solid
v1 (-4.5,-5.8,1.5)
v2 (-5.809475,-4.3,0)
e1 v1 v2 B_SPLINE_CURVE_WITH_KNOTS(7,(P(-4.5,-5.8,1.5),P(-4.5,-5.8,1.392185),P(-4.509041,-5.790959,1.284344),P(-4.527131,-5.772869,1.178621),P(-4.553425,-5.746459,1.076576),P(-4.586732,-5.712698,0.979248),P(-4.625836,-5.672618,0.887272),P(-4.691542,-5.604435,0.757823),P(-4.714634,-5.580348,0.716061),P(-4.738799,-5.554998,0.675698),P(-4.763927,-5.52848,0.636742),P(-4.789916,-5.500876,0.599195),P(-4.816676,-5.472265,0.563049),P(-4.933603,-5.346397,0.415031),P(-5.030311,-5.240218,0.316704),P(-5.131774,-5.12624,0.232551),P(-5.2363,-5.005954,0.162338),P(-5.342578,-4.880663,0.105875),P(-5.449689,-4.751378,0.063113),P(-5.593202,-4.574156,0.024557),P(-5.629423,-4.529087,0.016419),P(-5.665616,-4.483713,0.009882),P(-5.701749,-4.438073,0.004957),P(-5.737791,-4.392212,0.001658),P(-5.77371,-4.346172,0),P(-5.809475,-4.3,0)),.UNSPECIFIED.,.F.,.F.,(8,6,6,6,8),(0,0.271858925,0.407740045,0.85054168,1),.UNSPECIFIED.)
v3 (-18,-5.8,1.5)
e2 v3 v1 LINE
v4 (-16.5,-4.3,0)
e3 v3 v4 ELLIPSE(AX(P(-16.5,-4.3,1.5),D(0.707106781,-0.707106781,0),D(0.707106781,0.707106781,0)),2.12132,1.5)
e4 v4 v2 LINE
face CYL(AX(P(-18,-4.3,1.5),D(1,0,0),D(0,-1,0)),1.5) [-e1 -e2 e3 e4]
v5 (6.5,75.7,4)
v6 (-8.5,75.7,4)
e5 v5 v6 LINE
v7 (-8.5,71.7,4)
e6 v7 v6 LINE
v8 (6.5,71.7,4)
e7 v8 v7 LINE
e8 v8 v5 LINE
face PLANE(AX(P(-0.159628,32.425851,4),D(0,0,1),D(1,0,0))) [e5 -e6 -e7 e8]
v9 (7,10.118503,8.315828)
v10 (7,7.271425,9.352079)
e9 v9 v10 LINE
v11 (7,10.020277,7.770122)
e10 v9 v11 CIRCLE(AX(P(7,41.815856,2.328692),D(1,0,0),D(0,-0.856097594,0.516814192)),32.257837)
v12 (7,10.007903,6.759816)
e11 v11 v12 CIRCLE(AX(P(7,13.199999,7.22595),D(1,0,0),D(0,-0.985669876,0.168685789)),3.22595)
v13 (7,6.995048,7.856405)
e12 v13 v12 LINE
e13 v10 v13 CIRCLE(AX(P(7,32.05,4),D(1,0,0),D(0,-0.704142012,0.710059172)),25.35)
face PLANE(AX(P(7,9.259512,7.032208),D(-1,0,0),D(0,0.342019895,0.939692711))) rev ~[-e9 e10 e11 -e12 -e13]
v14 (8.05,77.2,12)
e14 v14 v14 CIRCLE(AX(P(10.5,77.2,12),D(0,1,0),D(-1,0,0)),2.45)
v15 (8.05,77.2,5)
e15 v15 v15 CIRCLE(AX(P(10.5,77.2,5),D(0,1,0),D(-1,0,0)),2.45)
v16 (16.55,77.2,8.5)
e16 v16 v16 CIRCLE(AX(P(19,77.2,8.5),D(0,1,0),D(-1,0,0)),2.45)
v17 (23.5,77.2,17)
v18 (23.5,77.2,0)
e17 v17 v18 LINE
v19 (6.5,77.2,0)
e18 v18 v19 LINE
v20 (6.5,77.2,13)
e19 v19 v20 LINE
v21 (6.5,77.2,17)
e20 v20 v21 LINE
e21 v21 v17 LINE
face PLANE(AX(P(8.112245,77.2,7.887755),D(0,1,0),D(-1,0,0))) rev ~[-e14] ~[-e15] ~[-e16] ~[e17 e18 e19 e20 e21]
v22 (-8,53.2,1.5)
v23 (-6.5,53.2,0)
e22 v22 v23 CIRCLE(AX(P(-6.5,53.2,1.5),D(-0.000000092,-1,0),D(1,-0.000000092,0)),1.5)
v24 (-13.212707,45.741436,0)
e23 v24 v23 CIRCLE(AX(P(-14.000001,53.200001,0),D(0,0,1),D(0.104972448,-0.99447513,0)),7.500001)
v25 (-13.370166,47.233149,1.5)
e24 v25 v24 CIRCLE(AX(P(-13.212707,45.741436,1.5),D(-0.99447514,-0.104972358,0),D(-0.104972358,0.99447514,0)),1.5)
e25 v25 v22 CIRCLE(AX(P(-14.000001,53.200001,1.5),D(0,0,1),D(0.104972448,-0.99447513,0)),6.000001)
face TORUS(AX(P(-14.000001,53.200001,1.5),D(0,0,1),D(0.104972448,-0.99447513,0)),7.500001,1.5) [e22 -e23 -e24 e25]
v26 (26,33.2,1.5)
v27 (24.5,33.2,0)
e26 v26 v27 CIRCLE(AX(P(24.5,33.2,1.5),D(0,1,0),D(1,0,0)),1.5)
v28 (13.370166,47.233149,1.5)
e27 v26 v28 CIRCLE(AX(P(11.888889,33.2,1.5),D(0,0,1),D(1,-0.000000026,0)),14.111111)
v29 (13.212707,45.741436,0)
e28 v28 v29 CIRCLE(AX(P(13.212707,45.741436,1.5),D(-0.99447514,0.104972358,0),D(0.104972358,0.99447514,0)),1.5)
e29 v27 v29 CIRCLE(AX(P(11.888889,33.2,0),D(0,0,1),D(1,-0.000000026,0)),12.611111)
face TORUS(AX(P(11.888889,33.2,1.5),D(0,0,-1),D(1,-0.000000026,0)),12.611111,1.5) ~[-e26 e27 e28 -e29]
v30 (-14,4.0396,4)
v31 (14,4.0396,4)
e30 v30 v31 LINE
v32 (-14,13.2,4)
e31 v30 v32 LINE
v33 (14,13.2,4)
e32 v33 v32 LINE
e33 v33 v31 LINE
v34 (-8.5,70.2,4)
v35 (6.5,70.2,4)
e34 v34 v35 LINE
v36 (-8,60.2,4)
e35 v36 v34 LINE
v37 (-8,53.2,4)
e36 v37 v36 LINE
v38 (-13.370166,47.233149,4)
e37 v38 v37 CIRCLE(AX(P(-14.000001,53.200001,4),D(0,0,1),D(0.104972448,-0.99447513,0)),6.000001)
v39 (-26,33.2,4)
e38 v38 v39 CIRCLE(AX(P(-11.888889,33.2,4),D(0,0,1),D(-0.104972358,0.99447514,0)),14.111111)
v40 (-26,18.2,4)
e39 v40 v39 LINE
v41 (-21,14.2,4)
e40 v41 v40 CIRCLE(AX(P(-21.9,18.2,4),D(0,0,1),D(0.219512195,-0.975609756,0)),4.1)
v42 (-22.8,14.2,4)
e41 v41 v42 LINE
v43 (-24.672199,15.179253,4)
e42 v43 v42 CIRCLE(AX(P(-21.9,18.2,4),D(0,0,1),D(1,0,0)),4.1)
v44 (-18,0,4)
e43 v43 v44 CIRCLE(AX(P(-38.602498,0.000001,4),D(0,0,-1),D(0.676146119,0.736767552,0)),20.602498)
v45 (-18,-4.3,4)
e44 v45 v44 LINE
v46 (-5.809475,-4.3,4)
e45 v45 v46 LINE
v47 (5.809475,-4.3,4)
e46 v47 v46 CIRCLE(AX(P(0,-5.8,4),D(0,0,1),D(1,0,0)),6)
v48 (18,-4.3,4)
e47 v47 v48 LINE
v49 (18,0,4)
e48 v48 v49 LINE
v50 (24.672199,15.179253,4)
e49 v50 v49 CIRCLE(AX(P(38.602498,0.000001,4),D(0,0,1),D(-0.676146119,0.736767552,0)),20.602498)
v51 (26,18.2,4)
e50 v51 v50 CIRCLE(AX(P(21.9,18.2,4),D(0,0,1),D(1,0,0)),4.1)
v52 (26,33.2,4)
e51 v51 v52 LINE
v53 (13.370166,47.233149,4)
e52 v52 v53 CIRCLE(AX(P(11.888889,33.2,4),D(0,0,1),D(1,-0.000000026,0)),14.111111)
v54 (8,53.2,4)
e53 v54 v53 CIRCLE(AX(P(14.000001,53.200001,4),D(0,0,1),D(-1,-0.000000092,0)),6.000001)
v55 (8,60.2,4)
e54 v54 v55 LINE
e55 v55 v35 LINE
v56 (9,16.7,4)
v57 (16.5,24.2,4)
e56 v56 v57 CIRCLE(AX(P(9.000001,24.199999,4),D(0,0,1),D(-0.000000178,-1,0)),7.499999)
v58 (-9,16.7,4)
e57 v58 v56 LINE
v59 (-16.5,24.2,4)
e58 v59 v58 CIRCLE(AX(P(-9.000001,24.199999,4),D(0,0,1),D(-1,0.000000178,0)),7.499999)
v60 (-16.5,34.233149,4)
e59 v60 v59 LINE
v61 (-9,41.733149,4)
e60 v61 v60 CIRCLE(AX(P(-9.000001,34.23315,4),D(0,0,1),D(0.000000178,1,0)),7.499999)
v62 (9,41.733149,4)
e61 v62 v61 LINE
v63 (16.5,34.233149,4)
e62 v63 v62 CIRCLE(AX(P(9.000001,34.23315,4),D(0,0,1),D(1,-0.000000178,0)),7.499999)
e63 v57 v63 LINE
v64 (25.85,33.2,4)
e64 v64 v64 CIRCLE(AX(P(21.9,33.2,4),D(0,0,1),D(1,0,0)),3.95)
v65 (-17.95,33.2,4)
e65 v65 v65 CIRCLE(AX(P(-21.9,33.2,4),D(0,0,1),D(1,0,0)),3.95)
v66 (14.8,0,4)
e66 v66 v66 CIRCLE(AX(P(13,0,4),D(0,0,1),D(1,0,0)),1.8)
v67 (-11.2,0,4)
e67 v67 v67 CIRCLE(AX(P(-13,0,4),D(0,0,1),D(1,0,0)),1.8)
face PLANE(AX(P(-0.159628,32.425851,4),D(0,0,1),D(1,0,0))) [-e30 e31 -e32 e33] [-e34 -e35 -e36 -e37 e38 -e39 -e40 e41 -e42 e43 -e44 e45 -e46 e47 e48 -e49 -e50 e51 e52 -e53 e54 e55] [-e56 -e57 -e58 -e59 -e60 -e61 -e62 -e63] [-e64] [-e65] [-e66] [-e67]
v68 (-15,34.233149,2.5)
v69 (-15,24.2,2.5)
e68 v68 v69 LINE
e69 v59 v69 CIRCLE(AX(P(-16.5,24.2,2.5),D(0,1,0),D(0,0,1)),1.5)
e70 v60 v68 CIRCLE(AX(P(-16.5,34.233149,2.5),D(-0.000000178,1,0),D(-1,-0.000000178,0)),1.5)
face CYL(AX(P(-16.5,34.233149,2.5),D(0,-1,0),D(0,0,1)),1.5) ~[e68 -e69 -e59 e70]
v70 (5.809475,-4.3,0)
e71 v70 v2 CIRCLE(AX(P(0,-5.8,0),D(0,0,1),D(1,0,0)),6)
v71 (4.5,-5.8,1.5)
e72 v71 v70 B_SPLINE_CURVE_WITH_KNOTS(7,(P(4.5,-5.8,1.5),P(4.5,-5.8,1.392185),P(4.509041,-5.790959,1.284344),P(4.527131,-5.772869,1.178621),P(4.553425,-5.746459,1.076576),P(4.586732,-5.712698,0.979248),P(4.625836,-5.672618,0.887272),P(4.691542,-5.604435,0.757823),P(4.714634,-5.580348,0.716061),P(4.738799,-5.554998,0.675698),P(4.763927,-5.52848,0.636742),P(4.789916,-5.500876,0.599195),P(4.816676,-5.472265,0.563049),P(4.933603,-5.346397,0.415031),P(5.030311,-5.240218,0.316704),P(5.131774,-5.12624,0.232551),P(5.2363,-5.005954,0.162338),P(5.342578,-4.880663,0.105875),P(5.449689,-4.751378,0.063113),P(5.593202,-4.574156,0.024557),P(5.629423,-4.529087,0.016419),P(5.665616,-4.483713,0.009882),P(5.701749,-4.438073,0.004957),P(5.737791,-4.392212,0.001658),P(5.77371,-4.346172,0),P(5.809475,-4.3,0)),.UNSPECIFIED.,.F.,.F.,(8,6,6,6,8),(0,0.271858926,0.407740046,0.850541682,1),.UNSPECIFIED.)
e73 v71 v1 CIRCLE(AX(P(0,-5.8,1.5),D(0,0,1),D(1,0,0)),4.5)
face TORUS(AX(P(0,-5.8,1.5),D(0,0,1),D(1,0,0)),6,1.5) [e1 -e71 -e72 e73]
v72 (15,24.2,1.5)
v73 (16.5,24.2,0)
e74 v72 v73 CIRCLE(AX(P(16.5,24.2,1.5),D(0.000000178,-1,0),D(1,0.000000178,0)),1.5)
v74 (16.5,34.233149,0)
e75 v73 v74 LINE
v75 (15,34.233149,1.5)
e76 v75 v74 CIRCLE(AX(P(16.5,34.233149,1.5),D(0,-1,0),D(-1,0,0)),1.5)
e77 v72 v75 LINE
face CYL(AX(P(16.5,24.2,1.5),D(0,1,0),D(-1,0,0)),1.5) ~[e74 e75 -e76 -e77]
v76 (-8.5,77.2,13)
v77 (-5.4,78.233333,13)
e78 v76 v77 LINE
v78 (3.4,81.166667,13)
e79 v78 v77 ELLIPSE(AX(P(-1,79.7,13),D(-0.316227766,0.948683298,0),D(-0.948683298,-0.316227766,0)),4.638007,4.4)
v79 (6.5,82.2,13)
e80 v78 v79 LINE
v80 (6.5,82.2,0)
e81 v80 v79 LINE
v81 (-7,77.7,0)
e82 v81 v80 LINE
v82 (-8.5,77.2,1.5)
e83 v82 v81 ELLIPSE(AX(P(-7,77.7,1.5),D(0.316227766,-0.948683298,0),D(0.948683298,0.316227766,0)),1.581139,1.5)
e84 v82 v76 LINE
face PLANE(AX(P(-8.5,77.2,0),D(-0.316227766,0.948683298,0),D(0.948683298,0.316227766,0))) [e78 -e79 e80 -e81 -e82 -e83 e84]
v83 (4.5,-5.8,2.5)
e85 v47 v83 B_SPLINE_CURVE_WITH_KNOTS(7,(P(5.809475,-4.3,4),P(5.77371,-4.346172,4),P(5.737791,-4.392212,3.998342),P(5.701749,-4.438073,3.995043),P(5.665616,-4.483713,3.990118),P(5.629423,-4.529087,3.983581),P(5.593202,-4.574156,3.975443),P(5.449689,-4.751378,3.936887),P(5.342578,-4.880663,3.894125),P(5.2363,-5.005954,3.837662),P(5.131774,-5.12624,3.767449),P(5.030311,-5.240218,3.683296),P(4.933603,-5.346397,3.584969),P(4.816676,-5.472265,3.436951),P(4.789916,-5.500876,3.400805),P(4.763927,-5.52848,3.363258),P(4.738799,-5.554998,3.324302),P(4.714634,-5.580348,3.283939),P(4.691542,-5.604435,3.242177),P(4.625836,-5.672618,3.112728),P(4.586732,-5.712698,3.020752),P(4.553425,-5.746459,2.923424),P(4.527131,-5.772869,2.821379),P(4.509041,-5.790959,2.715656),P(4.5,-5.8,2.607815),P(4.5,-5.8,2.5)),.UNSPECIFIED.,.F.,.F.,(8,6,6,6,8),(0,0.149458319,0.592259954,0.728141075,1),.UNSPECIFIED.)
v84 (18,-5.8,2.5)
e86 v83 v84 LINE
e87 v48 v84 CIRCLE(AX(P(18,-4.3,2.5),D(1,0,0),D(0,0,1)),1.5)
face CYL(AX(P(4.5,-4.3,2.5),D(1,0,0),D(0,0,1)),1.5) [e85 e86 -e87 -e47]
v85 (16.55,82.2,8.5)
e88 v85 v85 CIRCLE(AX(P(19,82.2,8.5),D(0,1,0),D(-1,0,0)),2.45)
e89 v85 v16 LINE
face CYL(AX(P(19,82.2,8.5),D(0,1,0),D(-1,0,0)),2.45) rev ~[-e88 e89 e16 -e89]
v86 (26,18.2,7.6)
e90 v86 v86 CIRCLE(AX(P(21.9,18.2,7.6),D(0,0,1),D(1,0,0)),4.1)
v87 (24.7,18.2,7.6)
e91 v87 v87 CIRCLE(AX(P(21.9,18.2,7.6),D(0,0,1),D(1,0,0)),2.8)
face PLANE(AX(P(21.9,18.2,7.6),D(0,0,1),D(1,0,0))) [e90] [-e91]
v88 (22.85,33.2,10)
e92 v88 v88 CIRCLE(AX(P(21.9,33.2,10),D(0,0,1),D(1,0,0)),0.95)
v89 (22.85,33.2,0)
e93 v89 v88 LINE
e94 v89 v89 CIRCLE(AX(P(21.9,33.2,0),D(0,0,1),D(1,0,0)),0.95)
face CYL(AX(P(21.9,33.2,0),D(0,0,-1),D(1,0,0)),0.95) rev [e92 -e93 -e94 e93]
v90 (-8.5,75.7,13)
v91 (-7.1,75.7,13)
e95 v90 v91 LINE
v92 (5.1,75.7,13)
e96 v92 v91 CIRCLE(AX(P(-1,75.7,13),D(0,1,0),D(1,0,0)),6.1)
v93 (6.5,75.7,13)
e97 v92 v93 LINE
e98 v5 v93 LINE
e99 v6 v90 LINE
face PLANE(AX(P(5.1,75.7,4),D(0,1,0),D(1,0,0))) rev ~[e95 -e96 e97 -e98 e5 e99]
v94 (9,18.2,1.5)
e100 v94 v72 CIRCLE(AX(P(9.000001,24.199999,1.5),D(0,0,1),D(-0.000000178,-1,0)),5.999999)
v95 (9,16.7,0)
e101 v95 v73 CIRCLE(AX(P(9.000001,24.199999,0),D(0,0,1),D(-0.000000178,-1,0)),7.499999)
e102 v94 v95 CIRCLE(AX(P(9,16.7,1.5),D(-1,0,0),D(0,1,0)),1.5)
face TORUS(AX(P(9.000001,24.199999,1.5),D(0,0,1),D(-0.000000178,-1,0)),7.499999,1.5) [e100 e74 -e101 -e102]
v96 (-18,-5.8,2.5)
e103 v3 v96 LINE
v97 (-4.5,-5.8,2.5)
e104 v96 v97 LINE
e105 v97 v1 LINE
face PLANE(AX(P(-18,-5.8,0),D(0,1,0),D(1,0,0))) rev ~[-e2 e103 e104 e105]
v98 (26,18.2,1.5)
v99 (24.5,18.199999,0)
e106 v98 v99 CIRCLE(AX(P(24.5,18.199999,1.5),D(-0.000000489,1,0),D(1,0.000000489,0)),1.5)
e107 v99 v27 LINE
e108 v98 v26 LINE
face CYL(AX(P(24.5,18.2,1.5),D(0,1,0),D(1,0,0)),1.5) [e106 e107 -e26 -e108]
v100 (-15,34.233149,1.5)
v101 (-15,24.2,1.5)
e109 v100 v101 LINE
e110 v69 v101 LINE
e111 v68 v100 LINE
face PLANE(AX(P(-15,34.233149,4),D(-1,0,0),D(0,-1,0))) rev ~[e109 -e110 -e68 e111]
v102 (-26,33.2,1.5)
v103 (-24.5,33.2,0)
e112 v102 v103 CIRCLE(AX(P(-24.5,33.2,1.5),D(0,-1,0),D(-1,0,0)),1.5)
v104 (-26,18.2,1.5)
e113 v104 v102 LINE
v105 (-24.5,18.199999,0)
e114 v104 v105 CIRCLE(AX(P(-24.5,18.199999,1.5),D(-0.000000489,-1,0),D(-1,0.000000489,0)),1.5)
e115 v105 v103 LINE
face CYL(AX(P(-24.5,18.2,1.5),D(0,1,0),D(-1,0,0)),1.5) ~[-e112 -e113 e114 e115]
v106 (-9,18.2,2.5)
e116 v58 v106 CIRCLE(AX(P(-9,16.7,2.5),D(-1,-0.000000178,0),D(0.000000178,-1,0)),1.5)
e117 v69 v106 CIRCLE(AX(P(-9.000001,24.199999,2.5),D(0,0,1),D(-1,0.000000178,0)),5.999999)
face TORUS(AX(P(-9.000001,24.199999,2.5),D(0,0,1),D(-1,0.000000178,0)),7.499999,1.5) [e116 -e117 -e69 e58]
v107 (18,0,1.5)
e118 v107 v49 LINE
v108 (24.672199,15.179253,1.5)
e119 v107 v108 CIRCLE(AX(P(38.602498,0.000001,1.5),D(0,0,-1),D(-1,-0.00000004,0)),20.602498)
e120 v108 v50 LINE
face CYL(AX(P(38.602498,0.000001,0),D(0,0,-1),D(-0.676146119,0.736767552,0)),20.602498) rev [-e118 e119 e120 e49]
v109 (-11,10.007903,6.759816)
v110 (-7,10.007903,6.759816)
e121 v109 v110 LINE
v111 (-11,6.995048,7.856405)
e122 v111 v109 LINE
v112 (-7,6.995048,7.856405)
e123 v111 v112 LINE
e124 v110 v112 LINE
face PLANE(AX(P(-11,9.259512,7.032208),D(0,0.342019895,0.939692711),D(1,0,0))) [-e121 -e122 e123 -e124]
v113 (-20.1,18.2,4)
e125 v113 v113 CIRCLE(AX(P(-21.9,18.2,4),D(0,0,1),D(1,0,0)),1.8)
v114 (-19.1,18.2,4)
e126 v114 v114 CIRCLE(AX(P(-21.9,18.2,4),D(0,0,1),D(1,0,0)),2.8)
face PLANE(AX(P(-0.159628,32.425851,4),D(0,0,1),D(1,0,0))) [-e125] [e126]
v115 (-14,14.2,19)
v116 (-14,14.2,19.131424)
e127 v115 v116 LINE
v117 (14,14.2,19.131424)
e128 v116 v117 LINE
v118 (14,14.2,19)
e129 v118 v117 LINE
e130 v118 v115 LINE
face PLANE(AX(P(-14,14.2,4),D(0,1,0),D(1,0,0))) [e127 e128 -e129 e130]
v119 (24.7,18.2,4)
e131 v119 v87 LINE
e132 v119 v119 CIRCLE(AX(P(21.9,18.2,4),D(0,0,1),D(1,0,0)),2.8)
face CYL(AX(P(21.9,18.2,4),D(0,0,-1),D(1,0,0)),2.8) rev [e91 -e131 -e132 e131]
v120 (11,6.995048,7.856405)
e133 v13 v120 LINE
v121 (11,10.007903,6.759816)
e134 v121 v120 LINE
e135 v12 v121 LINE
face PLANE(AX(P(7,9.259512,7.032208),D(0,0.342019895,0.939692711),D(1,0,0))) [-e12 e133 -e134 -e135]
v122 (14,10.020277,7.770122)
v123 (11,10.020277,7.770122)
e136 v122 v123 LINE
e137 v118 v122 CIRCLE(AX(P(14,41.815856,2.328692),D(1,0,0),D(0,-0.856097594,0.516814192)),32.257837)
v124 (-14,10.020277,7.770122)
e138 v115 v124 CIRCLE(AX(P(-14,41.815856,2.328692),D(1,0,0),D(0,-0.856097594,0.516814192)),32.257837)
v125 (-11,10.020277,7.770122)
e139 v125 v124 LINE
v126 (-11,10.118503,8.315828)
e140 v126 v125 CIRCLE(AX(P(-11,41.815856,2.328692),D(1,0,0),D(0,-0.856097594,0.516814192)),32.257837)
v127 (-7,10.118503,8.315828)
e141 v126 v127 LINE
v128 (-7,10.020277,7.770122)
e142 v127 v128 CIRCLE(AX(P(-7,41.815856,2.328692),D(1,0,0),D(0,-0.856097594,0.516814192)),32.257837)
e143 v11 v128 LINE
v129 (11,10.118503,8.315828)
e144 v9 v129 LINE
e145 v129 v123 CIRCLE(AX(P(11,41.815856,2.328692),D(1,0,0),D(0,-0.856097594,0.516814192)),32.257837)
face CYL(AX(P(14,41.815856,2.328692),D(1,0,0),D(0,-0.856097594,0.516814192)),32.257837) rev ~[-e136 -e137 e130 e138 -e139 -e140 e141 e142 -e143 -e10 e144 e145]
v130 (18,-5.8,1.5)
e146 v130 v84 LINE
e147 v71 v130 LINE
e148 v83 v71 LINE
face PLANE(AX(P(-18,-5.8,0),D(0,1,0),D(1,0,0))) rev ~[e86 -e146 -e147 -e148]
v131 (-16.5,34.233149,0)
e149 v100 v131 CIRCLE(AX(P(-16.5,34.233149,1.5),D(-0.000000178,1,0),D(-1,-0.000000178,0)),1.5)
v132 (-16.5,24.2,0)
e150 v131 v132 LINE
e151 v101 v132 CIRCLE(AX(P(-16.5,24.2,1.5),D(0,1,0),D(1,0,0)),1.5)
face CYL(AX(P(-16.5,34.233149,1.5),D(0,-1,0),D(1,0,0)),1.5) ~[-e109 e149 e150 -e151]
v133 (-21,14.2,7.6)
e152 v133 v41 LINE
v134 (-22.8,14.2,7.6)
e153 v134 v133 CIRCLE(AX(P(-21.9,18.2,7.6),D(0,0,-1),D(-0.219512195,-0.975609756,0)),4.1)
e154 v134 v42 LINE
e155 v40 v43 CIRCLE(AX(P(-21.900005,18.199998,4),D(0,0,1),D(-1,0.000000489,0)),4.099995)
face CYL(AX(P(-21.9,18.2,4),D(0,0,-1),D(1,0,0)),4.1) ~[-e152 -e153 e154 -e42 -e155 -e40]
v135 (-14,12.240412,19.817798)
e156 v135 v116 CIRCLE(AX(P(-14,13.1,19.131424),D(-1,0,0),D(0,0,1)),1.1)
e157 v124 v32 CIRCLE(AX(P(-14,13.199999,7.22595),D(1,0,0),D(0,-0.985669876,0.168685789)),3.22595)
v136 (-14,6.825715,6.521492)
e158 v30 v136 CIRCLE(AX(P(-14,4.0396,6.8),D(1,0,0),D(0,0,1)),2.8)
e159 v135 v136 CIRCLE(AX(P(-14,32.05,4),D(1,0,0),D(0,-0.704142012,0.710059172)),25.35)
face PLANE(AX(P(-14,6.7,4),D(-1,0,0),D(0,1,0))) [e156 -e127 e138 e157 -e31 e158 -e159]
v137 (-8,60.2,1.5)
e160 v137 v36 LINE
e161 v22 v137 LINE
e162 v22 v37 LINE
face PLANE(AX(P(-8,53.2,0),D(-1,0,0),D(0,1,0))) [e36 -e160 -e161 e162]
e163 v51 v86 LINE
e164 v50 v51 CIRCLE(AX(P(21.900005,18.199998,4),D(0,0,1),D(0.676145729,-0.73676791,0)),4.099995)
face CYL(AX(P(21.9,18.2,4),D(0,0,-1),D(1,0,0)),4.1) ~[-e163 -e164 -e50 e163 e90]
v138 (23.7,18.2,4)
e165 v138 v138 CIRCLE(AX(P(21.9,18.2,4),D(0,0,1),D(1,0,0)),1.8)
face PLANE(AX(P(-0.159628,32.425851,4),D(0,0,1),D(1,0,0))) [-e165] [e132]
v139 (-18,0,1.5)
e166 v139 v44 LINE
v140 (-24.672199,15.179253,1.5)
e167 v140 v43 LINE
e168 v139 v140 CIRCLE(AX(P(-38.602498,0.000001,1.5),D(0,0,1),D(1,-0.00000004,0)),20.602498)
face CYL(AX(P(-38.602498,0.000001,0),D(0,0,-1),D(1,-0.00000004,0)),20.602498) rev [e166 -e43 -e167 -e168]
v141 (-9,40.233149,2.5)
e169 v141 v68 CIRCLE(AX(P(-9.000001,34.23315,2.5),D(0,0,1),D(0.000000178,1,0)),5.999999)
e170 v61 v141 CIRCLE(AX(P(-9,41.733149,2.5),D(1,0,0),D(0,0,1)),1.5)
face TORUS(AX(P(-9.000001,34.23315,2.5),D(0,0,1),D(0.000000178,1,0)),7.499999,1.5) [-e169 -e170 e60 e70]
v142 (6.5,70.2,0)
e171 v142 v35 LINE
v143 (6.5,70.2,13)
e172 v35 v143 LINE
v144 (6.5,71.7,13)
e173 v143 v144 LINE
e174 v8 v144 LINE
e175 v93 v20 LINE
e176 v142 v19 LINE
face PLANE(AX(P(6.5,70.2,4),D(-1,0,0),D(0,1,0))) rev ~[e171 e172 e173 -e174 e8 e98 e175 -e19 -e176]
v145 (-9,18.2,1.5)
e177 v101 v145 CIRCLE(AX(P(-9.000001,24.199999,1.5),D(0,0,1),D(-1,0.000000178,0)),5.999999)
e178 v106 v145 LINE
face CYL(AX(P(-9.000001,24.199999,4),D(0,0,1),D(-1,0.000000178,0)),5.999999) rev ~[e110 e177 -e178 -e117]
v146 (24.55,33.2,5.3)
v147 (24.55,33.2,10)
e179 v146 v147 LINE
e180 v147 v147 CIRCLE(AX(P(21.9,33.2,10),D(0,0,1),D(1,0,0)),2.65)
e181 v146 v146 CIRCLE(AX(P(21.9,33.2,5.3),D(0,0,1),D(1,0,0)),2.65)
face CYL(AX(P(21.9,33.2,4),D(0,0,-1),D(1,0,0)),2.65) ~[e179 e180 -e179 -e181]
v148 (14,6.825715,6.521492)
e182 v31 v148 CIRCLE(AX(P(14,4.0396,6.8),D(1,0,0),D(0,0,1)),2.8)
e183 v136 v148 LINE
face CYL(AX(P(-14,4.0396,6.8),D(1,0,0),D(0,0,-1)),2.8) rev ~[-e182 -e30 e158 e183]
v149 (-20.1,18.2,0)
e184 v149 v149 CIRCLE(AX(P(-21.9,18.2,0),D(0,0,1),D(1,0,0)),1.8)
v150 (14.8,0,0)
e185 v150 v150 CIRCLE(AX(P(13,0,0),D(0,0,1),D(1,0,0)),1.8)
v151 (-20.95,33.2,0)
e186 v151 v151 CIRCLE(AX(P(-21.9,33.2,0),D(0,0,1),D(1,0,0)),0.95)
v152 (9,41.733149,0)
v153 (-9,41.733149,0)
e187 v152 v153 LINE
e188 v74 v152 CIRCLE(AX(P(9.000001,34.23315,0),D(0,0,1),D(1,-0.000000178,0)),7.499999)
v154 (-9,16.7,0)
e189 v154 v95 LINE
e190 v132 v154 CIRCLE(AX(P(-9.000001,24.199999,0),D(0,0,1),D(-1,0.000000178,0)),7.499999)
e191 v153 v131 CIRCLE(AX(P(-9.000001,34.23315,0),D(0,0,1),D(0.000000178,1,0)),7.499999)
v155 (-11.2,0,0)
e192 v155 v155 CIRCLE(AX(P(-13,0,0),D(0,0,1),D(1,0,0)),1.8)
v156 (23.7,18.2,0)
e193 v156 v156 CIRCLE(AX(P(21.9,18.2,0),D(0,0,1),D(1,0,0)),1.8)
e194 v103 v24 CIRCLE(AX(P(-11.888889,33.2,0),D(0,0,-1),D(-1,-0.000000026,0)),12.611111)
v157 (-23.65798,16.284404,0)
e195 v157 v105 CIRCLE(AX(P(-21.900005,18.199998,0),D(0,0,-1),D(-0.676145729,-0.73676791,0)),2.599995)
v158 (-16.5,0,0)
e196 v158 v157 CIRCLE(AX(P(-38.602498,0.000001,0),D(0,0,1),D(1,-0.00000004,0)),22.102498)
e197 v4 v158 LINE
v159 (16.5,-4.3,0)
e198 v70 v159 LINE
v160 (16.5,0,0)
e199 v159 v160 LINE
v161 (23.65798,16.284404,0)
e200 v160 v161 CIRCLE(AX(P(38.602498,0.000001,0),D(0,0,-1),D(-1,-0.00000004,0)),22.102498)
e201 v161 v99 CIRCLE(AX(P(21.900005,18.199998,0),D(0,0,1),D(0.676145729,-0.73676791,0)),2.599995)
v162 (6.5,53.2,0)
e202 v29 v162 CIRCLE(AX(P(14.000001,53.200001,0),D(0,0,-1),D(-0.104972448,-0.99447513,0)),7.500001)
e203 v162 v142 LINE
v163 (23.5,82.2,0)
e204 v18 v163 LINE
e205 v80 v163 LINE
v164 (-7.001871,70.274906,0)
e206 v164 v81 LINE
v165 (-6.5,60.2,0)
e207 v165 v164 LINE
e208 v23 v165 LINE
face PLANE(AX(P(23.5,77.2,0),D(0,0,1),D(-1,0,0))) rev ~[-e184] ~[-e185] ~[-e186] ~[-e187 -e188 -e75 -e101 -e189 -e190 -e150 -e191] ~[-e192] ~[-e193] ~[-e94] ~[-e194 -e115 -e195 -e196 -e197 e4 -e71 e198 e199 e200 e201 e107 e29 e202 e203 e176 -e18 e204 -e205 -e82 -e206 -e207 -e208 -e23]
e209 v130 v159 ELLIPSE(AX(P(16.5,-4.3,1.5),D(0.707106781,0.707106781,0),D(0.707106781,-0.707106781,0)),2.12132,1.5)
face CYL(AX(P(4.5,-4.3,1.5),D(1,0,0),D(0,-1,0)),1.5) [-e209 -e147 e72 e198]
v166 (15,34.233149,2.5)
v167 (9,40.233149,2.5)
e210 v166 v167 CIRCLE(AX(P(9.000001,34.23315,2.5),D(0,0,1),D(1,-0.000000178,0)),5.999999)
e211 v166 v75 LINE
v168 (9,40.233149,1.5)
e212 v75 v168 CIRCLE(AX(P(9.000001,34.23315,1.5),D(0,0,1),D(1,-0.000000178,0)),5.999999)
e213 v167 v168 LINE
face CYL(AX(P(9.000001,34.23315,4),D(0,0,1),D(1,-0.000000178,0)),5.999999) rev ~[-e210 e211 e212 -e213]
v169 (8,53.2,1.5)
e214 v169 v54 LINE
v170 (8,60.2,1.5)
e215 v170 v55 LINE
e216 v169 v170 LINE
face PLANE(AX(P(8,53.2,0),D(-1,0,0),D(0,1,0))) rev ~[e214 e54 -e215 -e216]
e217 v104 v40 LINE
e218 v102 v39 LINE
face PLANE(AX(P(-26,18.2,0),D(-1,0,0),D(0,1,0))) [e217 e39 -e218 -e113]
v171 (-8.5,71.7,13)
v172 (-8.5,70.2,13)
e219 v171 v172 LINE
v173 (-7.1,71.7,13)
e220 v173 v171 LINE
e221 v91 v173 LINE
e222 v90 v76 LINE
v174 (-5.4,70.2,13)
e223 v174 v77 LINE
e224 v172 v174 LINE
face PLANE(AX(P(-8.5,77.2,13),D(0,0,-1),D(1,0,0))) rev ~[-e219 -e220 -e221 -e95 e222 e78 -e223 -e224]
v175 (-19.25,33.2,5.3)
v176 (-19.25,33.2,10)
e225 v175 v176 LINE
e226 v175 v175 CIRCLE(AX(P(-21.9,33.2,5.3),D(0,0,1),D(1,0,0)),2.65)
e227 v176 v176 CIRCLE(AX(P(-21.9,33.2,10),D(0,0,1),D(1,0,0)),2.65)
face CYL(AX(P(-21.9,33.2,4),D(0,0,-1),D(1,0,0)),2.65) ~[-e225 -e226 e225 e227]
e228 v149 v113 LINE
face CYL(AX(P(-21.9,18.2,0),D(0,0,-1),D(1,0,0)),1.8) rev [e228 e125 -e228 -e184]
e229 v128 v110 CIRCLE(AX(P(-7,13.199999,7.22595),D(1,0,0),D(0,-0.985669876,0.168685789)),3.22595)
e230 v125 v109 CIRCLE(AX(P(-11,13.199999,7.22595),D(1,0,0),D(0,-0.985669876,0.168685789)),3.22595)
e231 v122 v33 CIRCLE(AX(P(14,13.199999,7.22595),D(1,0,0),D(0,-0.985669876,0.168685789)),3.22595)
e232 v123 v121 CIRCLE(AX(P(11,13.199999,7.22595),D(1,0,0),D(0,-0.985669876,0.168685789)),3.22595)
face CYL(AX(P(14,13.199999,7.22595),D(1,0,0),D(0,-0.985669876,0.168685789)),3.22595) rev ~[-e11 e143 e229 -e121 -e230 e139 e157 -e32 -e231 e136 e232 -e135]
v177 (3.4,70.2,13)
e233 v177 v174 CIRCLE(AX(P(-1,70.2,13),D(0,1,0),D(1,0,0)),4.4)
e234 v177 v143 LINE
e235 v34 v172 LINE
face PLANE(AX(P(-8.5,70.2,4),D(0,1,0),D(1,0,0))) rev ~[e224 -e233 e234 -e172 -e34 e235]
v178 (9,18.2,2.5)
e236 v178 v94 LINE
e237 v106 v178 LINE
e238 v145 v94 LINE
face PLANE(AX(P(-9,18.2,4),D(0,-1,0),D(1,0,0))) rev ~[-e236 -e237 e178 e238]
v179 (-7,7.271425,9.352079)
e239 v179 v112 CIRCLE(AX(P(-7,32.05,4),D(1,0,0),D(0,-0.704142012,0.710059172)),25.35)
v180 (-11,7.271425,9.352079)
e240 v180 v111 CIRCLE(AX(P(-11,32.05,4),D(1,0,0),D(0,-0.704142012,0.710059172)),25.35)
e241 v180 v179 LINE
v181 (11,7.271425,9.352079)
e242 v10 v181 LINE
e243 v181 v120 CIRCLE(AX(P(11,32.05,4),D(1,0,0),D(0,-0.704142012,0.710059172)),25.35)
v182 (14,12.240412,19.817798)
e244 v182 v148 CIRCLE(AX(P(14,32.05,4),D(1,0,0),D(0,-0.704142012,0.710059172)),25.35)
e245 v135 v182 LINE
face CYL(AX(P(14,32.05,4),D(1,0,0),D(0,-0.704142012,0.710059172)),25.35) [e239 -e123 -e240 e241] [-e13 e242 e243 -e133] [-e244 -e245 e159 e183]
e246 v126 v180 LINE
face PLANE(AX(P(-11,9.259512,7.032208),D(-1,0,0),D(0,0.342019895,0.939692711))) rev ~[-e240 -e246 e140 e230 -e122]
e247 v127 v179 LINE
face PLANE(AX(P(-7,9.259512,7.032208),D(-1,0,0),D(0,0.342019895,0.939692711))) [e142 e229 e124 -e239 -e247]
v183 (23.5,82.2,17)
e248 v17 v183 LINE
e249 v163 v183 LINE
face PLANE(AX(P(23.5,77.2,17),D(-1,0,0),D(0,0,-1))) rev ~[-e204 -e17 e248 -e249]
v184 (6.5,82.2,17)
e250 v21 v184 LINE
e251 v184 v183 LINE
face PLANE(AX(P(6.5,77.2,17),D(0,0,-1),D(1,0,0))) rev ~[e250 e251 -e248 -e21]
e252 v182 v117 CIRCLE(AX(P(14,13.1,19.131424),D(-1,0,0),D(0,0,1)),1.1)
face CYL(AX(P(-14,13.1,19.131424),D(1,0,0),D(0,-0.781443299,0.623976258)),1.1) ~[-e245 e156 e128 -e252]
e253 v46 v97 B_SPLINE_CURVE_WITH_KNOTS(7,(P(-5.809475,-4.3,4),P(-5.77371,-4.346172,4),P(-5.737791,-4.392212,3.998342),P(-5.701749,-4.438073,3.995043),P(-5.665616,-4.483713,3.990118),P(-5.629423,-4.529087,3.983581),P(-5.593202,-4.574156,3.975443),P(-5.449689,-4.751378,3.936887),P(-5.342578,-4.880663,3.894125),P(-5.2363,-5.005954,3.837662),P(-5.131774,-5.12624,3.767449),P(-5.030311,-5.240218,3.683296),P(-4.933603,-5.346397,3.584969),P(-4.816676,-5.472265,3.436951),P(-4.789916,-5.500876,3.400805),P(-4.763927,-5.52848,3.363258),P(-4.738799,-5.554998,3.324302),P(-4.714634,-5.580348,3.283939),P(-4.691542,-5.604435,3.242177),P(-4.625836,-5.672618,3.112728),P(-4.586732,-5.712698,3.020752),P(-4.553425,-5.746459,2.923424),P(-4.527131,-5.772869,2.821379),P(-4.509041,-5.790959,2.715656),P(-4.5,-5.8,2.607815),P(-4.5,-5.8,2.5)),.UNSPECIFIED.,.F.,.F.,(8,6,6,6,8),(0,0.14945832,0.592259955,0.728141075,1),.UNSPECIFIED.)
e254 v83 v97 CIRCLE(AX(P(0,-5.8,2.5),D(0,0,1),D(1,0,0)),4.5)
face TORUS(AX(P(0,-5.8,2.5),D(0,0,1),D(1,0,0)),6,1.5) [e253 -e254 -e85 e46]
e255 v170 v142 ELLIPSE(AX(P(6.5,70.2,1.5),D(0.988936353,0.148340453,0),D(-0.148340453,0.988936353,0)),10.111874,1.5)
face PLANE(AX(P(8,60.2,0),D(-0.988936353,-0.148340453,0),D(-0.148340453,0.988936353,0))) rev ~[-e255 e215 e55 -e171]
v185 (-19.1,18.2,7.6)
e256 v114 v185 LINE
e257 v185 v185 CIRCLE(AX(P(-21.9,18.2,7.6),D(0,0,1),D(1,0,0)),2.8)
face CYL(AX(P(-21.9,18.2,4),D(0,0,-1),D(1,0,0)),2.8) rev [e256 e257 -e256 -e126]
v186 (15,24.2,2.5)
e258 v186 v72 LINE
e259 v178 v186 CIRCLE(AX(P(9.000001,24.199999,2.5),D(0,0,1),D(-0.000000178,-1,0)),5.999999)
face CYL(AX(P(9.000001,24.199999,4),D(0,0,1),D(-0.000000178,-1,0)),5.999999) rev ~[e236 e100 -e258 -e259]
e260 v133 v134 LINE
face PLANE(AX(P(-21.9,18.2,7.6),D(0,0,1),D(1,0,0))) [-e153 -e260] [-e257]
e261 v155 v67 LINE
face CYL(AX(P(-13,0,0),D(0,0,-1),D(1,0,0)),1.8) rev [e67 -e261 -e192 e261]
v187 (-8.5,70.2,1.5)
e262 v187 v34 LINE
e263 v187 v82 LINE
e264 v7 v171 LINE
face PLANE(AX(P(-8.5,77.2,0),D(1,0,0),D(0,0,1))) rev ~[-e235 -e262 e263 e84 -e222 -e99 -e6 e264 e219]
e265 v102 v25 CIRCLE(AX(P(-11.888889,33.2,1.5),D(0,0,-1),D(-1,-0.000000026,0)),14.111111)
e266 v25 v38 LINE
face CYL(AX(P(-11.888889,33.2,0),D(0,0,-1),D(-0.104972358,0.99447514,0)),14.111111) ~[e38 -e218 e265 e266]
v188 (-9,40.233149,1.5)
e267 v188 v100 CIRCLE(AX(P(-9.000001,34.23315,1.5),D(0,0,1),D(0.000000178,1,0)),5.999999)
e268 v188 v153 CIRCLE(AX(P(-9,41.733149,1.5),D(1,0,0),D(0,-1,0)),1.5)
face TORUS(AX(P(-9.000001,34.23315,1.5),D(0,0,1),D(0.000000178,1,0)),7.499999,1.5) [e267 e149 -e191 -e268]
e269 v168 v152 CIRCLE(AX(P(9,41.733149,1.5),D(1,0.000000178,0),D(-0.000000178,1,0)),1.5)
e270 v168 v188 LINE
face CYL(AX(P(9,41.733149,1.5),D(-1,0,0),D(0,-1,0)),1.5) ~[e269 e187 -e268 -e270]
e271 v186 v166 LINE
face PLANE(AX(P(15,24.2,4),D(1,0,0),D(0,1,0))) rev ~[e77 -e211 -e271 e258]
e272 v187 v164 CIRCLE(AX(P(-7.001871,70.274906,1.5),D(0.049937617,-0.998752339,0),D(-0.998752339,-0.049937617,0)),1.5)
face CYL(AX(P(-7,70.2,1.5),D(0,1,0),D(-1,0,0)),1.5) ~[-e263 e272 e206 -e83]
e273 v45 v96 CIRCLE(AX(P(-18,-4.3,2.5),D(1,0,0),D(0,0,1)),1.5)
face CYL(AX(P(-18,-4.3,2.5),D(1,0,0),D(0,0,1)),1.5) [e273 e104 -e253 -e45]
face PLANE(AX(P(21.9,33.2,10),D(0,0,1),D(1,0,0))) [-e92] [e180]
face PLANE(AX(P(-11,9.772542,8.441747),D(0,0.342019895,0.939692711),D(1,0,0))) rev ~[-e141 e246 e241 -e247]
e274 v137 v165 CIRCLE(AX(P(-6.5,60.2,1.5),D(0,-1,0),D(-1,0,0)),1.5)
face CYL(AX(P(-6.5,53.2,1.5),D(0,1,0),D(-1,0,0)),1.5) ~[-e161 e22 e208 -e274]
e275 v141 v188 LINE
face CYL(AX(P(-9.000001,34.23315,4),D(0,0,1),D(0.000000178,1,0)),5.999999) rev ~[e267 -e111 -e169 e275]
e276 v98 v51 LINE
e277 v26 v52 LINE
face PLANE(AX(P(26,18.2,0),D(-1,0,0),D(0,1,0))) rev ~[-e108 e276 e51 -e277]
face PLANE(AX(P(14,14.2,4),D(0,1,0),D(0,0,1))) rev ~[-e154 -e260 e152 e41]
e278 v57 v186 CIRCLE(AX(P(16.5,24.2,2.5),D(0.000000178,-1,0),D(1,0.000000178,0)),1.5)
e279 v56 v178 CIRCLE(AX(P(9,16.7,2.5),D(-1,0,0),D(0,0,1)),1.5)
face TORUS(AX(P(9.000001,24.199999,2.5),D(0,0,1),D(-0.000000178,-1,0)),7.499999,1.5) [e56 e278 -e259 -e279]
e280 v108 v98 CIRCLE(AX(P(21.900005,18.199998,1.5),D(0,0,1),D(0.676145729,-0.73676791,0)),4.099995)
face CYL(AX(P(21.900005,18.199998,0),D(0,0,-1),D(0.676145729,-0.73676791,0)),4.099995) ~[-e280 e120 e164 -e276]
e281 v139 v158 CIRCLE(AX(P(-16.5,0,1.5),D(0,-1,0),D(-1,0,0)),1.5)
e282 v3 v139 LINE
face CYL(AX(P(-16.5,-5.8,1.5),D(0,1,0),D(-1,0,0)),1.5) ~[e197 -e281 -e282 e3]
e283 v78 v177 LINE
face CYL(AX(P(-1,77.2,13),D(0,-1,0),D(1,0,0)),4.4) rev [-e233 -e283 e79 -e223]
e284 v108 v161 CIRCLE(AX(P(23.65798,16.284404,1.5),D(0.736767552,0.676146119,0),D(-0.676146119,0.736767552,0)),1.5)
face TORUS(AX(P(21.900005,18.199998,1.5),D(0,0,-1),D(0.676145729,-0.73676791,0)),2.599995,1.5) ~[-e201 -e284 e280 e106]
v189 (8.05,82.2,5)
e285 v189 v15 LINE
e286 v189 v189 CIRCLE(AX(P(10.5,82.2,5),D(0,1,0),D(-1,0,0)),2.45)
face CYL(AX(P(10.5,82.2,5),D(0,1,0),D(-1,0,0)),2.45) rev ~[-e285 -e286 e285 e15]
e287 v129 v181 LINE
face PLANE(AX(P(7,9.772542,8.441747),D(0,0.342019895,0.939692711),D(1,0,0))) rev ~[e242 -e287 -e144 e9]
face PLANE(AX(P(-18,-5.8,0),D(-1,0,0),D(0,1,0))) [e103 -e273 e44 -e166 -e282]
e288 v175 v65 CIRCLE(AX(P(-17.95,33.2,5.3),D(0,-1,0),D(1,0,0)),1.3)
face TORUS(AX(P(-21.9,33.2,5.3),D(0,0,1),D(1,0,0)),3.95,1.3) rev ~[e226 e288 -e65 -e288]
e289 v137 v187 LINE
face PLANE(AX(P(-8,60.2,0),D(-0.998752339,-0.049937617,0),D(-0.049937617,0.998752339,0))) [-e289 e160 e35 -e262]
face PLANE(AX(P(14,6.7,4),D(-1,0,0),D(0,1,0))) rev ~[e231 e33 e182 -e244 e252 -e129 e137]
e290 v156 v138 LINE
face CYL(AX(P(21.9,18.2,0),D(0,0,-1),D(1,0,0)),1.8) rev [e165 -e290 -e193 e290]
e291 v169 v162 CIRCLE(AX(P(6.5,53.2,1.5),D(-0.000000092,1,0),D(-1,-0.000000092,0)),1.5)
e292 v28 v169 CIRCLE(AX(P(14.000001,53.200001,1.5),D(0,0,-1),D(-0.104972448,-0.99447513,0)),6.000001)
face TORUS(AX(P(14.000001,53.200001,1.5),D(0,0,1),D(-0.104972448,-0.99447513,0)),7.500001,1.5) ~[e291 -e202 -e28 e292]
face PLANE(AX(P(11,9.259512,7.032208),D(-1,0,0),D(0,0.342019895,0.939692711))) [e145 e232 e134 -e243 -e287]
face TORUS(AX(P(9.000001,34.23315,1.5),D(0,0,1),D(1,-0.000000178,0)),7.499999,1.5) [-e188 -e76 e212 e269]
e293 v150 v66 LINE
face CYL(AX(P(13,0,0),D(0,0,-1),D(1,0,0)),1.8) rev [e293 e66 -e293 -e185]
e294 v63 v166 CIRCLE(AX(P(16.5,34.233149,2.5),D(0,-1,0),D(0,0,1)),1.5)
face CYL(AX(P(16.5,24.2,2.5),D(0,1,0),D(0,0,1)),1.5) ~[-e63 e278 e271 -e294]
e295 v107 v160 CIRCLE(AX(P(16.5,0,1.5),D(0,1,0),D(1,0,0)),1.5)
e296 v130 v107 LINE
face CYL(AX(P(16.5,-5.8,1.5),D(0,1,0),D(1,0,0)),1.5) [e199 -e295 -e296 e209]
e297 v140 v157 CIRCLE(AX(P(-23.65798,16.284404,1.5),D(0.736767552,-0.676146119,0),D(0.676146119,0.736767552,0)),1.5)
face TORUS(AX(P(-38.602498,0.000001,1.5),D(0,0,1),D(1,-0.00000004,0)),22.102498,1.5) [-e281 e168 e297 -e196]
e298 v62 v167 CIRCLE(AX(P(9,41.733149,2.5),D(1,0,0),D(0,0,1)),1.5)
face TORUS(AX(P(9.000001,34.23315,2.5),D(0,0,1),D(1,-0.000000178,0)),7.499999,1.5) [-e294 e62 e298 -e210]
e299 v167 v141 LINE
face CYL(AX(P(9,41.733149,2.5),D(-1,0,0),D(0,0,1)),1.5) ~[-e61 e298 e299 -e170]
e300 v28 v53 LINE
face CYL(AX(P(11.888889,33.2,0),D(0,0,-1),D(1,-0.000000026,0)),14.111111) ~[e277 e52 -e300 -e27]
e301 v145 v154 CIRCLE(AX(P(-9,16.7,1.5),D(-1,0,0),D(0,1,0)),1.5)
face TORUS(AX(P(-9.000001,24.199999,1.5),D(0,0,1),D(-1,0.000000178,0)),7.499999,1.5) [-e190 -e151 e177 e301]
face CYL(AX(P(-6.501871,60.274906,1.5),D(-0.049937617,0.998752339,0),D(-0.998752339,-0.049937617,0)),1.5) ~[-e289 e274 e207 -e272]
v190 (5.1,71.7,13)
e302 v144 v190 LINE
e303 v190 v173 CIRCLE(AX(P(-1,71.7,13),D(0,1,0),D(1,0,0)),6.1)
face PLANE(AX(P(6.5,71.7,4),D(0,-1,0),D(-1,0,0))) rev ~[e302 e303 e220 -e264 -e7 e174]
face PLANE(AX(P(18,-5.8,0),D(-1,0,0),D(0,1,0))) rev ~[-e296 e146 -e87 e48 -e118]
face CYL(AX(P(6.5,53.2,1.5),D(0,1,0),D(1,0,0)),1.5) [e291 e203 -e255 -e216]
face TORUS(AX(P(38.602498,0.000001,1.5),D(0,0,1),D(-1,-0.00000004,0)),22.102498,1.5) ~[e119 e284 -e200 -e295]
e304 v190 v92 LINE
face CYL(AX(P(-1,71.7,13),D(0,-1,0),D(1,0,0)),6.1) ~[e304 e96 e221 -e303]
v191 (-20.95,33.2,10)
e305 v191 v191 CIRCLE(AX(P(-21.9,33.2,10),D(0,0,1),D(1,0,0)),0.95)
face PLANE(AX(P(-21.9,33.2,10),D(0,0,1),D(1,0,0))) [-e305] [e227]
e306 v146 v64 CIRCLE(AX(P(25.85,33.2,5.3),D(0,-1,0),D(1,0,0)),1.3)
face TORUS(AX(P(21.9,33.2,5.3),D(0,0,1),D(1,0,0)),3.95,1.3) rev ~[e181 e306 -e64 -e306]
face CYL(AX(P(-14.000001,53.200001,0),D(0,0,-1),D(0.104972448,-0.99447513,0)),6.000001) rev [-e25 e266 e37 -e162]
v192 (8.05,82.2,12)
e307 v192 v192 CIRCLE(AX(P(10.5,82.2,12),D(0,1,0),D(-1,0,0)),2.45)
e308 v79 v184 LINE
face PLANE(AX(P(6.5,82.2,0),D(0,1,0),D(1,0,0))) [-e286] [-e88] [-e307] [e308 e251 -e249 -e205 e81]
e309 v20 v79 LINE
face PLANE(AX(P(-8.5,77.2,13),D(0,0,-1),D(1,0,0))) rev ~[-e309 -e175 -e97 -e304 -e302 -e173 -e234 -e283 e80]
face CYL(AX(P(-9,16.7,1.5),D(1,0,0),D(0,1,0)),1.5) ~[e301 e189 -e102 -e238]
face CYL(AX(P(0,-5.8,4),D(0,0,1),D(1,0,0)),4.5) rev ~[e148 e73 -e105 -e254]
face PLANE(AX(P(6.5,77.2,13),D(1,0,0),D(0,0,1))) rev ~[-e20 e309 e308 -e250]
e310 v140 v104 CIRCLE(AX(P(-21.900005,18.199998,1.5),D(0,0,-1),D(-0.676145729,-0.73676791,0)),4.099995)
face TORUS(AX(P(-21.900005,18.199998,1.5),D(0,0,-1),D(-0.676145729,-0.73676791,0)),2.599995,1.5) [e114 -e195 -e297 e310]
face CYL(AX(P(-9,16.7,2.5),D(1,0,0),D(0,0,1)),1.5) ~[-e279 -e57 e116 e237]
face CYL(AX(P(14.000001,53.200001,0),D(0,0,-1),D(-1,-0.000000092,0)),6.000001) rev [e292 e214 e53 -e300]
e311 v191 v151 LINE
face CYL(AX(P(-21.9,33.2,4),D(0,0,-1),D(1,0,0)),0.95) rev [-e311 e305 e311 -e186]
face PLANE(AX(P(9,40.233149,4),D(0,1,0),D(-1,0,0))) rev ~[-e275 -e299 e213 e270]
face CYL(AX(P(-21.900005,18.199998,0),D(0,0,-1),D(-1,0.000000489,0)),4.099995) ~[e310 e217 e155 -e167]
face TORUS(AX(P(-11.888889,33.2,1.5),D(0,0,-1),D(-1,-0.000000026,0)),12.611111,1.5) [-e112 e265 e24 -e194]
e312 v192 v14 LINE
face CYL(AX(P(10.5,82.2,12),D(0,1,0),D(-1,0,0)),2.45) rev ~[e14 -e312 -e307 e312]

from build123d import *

# Parameters (mm, degrees)
SKETCH_R             = 1.8
SKETCH_R_2           = 0.95
PAD_DEPTH            = 4
SKETCH001_R          = 2.65
SKETCH001_R_2        = 0.95
PAD001_DEPTH         = 6
FILLET_R             = 1.3
PAD002_DEPTH         = 9
PAD005_DEPTH         = 10
POCKET005_DEPTH      = 17.001
POCKET_DEPTH         = 15
POCKET_DEPTH_BACK    = 5
POCKET001_DEPTH      = 4
SKETCH012_R          = 2.45
POCKET006_DEPTH      = 8
SKETCH005_R          = 4.1
SKETCH005_R_2        = 2.8
PAD003_DEPTH         = 3.6
SKETCH006_W          = 28
SKETCH006_H          = 7.5
PAD004_DEPTH         = 18
SKETCH008_W          = 4
SKETCH008_H          = 1.5
POCKET003_DEPTH      = 7
POCKET003_DEPTH_BACK = 4
POCKET002_DEPTH      = 40.001
FILLET001_R          = 2.8
FILLET002_R          = 1.1
POCKET004_DEPTH      = 4.001
FILLET003_R          = 1.5


with BuildPart() as part:
    # Sketch → Pad (new body)
    with BuildSketch(Plane.XY):
        with BuildLine():
            Line((-18, -5.8), (18, -5.8))
            Line((18, -5.8), (18, 0))
            ThreePointArc((24.672199, 15.179253), (19.741667, 8.290476), (18, 0))
            ThreePointArc((24.672199, 15.179253), (25.6534, 16.550154), (26, 18.2))
            Line((26, 18.2), (26, 33.2))
            ThreePointArc((26, 33.2), (22.377595, 42.639836), (13.370166, 47.233149))
            ThreePointArc((8, 53.2), (9.540235, 49.186212), (13.370166, 47.233149))
            Line((8, 53.2), (8, 60.2))
            Line((8, 60.2), (6.5, 70.2))
            Line((6.5, 70.2), (6.5, 77.2))
            Line((-8.5, 77.2), (6.5, 77.2))
            Line((-8.5, 70.2), (-8.5, 77.2))
            Line((-8, 60.2), (-8.5, 70.2))
            Line((-8, 53.2), (-8, 60.2))
            ThreePointArc((-13.370166, 47.233149), (-9.540235, 49.186212), (-8, 53.2))
            ThreePointArc((-13.370166, 47.233149), (-22.377595, 42.639836), (-26, 33.2))
            Line((-26, 18.2), (-26, 33.2))
            ThreePointArc((-26, 18.2), (-25.6534, 16.550154), (-24.672199, 15.179253))
            ThreePointArc((-18, 0), (-19.741667, 8.290476), (-24.672199, 15.179253))
            Line((-18, -5.8), (-18, 0))
        make_face()
        with Locations((13, 0)):
            Circle(SKETCH_R, mode=Mode.SUBTRACT)
        with Locations((-13, 0)):
            Circle(SKETCH_R, mode=Mode.SUBTRACT)
        with Locations((-21.9, 18.2)):
            Circle(SKETCH_R, mode=Mode.SUBTRACT)
        with Locations((21.9, 18.2)):
            Circle(SKETCH_R, mode=Mode.SUBTRACT)
        with Locations((-21.9, 33.2)):
            Circle(SKETCH_R_2, mode=Mode.SUBTRACT)
        with Locations((21.9, 33.2)):
            Circle(SKETCH_R_2, mode=Mode.SUBTRACT)
    extrude(amount=PAD_DEPTH)

    # Sketch001 (on Face28 of Pad) → Pad001 (join)
    with BuildSketch(Plane.XY.offset(4)):
        with Locations((-21.9, 33.2)):
            Circle(SKETCH001_R)
        with Locations((-21.9, 33.2)):
            Circle(SKETCH001_R_2, mode=Mode.SUBTRACT)
        with Locations((21.9, 33.2)):
            Circle(SKETCH001_R)
        with Locations((21.9, 33.2)):
            Circle(SKETCH001_R_2, mode=Mode.SUBTRACT)
    extrude(amount=PAD001_DEPTH)

    # Fillet
    fillet_edges = [part.edges().sort_by_distance(p)[0] for p in [
        (19.25, 33.2, 4),
        (-24.55, 33.2, 4),
    ]]
    fillet(fillet_edges, radius=FILLET_R)

    # Sketch002 (on Face1 of Fillet) → Pad002 (join)
    with BuildSketch(Plane.XY.offset(4)):
        Polygon((-8.5, 70.2), (6.5, 70.2), (6.5, 71.7), (5.1, 71.7), (5.1, 75.7), (6.5, 75.7), (6.5, 77.2), (-8.5, 77.2), (-8.5, 75.7), (-7.1, 75.7), (-7.1, 71.7), (-8.5, 71.7), align=None)
    extrude(amount=PAD002_DEPTH)

    # Sketch010 (on Face44 of Pad002) → Pad005 (join)
    with BuildSketch(Plane(origin=(0, 77.2, 0), x_dir=(-1, 0, 0), z_dir=(0, 1, 0))):
        Polygon((-23.5, 17), (-23.5, 0), (8.5, 0), (8.5, 13), (-6.5, 13), (-6.5, 17), align=None)
    extrude(amount=PAD005_DEPTH)

    # Sketch011 (on Face48 of Pad005) → Pocket005 (cut, through all)
    with BuildSketch(Plane(origin=(0, 0, 0), x_dir=(1, 0, 0), z_dir=(0, 0, -1))):
        Polygon((-8.5, -87.2), (-8.5, -77.2), (6.5, -82.2), (23.5, -82.2), (23.5, -87.2), align=None)
    extrude(amount=-POCKET005_DEPTH, mode=Mode.SUBTRACT)

    # Sketch003 (on Face44 of Pad002) → Pocket (cut, two sides)
    with BuildSketch(Plane(origin=(0, 77.2, 0), x_dir=(-1, 0, 0), z_dir=(0, 1, 0))) as pocket_sk:
        with BuildLine():
            ThreePointArc((-3.4, 13), (1, 8.6), (5.4, 13))
            Line((-3.4, 13), (5.4, 13))
        make_face()
    extrude(amount=-POCKET_DEPTH, mode=Mode.SUBTRACT)
    extrude(pocket_sk.sketch, amount=POCKET_DEPTH_BACK, mode=Mode.SUBTRACT)

    # Sketch004 (on Face11 of Pocket) → Pocket001 (cut)
    with BuildSketch(Plane(origin=(0, 71.7, 0), x_dir=(-1, 0, 0), z_dir=(0, 1, 0))):
        with BuildLine():
            ThreePointArc((-5.1, 13), (1, 6.9), (7.1, 13))
            Line((7.1, 4), (7.1, 13))
            Line((-5.1, 4), (7.1, 4))
            Line((-5.1, 13), (-5.1, 4))
        make_face()
    extrude(amount=POCKET001_DEPTH, mode=Mode.SUBTRACT)

    # Sketch012 (on Face25 of Pocket001) → Pocket006 (cut)
    with BuildSketch(Plane(origin=(0, 82.2, 0), x_dir=(-1, 0, 0), z_dir=(0, 1, 0))):
        with Locations((-10.5, 12)):
            Circle(SKETCH012_R)
        with Locations((-10.5, 5)):
            Circle(SKETCH012_R)
        with Locations((-19, 8.5)):
            Circle(SKETCH012_R)
    extrude(amount=-POCKET006_DEPTH, mode=Mode.SUBTRACT)

    # Sketch005 (on Face5 of Pocket001) → Pad003 (join)
    with BuildSketch(Plane.XY.offset(4)):
        with Locations((-21.9, 18.2)):
            Circle(SKETCH005_R)
        with Locations((-21.9, 18.2)):
            Circle(SKETCH005_R_2, mode=Mode.SUBTRACT)
        with Locations((21.9, 18.2)):
            Circle(SKETCH005_R)
        with Locations((21.9, 18.2)):
            Circle(SKETCH005_R_2, mode=Mode.SUBTRACT)
    extrude(amount=PAD003_DEPTH)

    # Sketch006 (on Face5 of Pad003) → Pad004 (join)
    with BuildSketch(Plane.XY.offset(4)):
        with Locations((0, 10.45)):
            Rectangle(SKETCH006_W, SKETCH006_H)
    extrude(amount=PAD004_DEPTH)

    # Sketch008 (on Face37 of Pad004) → Pocket003 (cut, two sides)
    with BuildSketch(Plane(origin=(0, 6.7, 0), x_dir=(1, 0, 0), z_dir=(0, -0.939693, 0.34202))) as pocket003_sk:
        with Locations((-9, 8.233519)):
            Rectangle(SKETCH008_W, SKETCH008_H)
        with Locations((9, 8.233519)):
            Rectangle(SKETCH008_W, SKETCH008_H)
    extrude(amount=-POCKET003_DEPTH, mode=Mode.SUBTRACT)
    extrude(pocket003_sk.sketch, amount=POCKET003_DEPTH_BACK, mode=Mode.SUBTRACT)

    # Sketch007 (on Face38 of Pad004) → Pocket002 (cut, through all)
    with BuildSketch(Plane.YZ.offset(14)):
        with BuildLine():
            ThreePointArc((14.2, 22), (8.65, 13.75), (6.7, 4))
            Line((6.7, 22), (6.7, 4))
            Line((14.2, 22), (6.7, 22))
        make_face()
        with BuildLine():
            ThreePointArc((14.2, 19), (11.584131, 13.580839), (10.020277, 7.770122))
            ThreePointArc((10.020277, 7.770122), (10.734008, 5.146132), (13.2, 4))
            Line((13.2, 4), (14.2, 4))
            Line((14.2, 4), (14.2, 19))
        make_face()
    extrude(amount=-POCKET002_DEPTH, mode=Mode.SUBTRACT)

    # Fillet001
    fillet001_edges = [part.edges().sort_by_distance(p)[0] for p in [
        (0, 6.7, 4),
    ]]
    fillet(fillet001_edges, radius=FILLET001_R)

    # Fillet002
    fillet002_edges = [part.edges().sort_by_distance(p)[0] for p in [
        (0, 14.2, 22),
    ]]
    fillet(fillet002_edges, radius=FILLET002_R)

    # Sketch009 (on Face6 of Fillet002) → Pocket004 (cut, through all)
    with BuildSketch(Plane.XY.offset(4)):
        with BuildLine():
            ThreePointArc((4.5, -5.8), (0, -1.3), (-4.5, -5.8))
            Line((-4.5, -5.8), (4.5, -5.8))
        make_face()
        with BuildLine():
            Line((-15, 34.233149), (-15, 24.2))
            ThreePointArc((-15, 24.2), (-13.242641, 19.957359), (-9, 18.2))
            Line((-9, 18.2), (9, 18.2))
            ThreePointArc((9, 18.2), (13.242641, 19.957359), (15, 24.2))
            Line((15, 24.2), (15, 34.233149))
            ThreePointArc((15, 34.233149), (13.242641, 38.47579), (9, 40.233149))
            Line((9, 40.233149), (-9, 40.233149))
            ThreePointArc((-9, 40.233149), (-13.242641, 38.47579), (-15, 34.233149))
        make_face()
    extrude(amount=-POCKET004_DEPTH, mode=Mode.SUBTRACT)

    # Fillet003
    fillet003_edges = [part.edges().sort_by_distance(p)[0] for p in [
        (-11.25, -5.8, 0),
        (0, -1.3, 0),
        (11.25, -5.8, 0),
        (-18, -2.9, 0),
        (18, -2.9, 0),
        (0, 18.2, 0),
        (0, 40.233149, 4),
        (-11.25, -5.8, 4),
        (11.25, -5.8, 4),
        (0, -1.3, 4),
    ]]
    fillet(fillet003_edges, radius=FILLET003_R)


solid = part.part
